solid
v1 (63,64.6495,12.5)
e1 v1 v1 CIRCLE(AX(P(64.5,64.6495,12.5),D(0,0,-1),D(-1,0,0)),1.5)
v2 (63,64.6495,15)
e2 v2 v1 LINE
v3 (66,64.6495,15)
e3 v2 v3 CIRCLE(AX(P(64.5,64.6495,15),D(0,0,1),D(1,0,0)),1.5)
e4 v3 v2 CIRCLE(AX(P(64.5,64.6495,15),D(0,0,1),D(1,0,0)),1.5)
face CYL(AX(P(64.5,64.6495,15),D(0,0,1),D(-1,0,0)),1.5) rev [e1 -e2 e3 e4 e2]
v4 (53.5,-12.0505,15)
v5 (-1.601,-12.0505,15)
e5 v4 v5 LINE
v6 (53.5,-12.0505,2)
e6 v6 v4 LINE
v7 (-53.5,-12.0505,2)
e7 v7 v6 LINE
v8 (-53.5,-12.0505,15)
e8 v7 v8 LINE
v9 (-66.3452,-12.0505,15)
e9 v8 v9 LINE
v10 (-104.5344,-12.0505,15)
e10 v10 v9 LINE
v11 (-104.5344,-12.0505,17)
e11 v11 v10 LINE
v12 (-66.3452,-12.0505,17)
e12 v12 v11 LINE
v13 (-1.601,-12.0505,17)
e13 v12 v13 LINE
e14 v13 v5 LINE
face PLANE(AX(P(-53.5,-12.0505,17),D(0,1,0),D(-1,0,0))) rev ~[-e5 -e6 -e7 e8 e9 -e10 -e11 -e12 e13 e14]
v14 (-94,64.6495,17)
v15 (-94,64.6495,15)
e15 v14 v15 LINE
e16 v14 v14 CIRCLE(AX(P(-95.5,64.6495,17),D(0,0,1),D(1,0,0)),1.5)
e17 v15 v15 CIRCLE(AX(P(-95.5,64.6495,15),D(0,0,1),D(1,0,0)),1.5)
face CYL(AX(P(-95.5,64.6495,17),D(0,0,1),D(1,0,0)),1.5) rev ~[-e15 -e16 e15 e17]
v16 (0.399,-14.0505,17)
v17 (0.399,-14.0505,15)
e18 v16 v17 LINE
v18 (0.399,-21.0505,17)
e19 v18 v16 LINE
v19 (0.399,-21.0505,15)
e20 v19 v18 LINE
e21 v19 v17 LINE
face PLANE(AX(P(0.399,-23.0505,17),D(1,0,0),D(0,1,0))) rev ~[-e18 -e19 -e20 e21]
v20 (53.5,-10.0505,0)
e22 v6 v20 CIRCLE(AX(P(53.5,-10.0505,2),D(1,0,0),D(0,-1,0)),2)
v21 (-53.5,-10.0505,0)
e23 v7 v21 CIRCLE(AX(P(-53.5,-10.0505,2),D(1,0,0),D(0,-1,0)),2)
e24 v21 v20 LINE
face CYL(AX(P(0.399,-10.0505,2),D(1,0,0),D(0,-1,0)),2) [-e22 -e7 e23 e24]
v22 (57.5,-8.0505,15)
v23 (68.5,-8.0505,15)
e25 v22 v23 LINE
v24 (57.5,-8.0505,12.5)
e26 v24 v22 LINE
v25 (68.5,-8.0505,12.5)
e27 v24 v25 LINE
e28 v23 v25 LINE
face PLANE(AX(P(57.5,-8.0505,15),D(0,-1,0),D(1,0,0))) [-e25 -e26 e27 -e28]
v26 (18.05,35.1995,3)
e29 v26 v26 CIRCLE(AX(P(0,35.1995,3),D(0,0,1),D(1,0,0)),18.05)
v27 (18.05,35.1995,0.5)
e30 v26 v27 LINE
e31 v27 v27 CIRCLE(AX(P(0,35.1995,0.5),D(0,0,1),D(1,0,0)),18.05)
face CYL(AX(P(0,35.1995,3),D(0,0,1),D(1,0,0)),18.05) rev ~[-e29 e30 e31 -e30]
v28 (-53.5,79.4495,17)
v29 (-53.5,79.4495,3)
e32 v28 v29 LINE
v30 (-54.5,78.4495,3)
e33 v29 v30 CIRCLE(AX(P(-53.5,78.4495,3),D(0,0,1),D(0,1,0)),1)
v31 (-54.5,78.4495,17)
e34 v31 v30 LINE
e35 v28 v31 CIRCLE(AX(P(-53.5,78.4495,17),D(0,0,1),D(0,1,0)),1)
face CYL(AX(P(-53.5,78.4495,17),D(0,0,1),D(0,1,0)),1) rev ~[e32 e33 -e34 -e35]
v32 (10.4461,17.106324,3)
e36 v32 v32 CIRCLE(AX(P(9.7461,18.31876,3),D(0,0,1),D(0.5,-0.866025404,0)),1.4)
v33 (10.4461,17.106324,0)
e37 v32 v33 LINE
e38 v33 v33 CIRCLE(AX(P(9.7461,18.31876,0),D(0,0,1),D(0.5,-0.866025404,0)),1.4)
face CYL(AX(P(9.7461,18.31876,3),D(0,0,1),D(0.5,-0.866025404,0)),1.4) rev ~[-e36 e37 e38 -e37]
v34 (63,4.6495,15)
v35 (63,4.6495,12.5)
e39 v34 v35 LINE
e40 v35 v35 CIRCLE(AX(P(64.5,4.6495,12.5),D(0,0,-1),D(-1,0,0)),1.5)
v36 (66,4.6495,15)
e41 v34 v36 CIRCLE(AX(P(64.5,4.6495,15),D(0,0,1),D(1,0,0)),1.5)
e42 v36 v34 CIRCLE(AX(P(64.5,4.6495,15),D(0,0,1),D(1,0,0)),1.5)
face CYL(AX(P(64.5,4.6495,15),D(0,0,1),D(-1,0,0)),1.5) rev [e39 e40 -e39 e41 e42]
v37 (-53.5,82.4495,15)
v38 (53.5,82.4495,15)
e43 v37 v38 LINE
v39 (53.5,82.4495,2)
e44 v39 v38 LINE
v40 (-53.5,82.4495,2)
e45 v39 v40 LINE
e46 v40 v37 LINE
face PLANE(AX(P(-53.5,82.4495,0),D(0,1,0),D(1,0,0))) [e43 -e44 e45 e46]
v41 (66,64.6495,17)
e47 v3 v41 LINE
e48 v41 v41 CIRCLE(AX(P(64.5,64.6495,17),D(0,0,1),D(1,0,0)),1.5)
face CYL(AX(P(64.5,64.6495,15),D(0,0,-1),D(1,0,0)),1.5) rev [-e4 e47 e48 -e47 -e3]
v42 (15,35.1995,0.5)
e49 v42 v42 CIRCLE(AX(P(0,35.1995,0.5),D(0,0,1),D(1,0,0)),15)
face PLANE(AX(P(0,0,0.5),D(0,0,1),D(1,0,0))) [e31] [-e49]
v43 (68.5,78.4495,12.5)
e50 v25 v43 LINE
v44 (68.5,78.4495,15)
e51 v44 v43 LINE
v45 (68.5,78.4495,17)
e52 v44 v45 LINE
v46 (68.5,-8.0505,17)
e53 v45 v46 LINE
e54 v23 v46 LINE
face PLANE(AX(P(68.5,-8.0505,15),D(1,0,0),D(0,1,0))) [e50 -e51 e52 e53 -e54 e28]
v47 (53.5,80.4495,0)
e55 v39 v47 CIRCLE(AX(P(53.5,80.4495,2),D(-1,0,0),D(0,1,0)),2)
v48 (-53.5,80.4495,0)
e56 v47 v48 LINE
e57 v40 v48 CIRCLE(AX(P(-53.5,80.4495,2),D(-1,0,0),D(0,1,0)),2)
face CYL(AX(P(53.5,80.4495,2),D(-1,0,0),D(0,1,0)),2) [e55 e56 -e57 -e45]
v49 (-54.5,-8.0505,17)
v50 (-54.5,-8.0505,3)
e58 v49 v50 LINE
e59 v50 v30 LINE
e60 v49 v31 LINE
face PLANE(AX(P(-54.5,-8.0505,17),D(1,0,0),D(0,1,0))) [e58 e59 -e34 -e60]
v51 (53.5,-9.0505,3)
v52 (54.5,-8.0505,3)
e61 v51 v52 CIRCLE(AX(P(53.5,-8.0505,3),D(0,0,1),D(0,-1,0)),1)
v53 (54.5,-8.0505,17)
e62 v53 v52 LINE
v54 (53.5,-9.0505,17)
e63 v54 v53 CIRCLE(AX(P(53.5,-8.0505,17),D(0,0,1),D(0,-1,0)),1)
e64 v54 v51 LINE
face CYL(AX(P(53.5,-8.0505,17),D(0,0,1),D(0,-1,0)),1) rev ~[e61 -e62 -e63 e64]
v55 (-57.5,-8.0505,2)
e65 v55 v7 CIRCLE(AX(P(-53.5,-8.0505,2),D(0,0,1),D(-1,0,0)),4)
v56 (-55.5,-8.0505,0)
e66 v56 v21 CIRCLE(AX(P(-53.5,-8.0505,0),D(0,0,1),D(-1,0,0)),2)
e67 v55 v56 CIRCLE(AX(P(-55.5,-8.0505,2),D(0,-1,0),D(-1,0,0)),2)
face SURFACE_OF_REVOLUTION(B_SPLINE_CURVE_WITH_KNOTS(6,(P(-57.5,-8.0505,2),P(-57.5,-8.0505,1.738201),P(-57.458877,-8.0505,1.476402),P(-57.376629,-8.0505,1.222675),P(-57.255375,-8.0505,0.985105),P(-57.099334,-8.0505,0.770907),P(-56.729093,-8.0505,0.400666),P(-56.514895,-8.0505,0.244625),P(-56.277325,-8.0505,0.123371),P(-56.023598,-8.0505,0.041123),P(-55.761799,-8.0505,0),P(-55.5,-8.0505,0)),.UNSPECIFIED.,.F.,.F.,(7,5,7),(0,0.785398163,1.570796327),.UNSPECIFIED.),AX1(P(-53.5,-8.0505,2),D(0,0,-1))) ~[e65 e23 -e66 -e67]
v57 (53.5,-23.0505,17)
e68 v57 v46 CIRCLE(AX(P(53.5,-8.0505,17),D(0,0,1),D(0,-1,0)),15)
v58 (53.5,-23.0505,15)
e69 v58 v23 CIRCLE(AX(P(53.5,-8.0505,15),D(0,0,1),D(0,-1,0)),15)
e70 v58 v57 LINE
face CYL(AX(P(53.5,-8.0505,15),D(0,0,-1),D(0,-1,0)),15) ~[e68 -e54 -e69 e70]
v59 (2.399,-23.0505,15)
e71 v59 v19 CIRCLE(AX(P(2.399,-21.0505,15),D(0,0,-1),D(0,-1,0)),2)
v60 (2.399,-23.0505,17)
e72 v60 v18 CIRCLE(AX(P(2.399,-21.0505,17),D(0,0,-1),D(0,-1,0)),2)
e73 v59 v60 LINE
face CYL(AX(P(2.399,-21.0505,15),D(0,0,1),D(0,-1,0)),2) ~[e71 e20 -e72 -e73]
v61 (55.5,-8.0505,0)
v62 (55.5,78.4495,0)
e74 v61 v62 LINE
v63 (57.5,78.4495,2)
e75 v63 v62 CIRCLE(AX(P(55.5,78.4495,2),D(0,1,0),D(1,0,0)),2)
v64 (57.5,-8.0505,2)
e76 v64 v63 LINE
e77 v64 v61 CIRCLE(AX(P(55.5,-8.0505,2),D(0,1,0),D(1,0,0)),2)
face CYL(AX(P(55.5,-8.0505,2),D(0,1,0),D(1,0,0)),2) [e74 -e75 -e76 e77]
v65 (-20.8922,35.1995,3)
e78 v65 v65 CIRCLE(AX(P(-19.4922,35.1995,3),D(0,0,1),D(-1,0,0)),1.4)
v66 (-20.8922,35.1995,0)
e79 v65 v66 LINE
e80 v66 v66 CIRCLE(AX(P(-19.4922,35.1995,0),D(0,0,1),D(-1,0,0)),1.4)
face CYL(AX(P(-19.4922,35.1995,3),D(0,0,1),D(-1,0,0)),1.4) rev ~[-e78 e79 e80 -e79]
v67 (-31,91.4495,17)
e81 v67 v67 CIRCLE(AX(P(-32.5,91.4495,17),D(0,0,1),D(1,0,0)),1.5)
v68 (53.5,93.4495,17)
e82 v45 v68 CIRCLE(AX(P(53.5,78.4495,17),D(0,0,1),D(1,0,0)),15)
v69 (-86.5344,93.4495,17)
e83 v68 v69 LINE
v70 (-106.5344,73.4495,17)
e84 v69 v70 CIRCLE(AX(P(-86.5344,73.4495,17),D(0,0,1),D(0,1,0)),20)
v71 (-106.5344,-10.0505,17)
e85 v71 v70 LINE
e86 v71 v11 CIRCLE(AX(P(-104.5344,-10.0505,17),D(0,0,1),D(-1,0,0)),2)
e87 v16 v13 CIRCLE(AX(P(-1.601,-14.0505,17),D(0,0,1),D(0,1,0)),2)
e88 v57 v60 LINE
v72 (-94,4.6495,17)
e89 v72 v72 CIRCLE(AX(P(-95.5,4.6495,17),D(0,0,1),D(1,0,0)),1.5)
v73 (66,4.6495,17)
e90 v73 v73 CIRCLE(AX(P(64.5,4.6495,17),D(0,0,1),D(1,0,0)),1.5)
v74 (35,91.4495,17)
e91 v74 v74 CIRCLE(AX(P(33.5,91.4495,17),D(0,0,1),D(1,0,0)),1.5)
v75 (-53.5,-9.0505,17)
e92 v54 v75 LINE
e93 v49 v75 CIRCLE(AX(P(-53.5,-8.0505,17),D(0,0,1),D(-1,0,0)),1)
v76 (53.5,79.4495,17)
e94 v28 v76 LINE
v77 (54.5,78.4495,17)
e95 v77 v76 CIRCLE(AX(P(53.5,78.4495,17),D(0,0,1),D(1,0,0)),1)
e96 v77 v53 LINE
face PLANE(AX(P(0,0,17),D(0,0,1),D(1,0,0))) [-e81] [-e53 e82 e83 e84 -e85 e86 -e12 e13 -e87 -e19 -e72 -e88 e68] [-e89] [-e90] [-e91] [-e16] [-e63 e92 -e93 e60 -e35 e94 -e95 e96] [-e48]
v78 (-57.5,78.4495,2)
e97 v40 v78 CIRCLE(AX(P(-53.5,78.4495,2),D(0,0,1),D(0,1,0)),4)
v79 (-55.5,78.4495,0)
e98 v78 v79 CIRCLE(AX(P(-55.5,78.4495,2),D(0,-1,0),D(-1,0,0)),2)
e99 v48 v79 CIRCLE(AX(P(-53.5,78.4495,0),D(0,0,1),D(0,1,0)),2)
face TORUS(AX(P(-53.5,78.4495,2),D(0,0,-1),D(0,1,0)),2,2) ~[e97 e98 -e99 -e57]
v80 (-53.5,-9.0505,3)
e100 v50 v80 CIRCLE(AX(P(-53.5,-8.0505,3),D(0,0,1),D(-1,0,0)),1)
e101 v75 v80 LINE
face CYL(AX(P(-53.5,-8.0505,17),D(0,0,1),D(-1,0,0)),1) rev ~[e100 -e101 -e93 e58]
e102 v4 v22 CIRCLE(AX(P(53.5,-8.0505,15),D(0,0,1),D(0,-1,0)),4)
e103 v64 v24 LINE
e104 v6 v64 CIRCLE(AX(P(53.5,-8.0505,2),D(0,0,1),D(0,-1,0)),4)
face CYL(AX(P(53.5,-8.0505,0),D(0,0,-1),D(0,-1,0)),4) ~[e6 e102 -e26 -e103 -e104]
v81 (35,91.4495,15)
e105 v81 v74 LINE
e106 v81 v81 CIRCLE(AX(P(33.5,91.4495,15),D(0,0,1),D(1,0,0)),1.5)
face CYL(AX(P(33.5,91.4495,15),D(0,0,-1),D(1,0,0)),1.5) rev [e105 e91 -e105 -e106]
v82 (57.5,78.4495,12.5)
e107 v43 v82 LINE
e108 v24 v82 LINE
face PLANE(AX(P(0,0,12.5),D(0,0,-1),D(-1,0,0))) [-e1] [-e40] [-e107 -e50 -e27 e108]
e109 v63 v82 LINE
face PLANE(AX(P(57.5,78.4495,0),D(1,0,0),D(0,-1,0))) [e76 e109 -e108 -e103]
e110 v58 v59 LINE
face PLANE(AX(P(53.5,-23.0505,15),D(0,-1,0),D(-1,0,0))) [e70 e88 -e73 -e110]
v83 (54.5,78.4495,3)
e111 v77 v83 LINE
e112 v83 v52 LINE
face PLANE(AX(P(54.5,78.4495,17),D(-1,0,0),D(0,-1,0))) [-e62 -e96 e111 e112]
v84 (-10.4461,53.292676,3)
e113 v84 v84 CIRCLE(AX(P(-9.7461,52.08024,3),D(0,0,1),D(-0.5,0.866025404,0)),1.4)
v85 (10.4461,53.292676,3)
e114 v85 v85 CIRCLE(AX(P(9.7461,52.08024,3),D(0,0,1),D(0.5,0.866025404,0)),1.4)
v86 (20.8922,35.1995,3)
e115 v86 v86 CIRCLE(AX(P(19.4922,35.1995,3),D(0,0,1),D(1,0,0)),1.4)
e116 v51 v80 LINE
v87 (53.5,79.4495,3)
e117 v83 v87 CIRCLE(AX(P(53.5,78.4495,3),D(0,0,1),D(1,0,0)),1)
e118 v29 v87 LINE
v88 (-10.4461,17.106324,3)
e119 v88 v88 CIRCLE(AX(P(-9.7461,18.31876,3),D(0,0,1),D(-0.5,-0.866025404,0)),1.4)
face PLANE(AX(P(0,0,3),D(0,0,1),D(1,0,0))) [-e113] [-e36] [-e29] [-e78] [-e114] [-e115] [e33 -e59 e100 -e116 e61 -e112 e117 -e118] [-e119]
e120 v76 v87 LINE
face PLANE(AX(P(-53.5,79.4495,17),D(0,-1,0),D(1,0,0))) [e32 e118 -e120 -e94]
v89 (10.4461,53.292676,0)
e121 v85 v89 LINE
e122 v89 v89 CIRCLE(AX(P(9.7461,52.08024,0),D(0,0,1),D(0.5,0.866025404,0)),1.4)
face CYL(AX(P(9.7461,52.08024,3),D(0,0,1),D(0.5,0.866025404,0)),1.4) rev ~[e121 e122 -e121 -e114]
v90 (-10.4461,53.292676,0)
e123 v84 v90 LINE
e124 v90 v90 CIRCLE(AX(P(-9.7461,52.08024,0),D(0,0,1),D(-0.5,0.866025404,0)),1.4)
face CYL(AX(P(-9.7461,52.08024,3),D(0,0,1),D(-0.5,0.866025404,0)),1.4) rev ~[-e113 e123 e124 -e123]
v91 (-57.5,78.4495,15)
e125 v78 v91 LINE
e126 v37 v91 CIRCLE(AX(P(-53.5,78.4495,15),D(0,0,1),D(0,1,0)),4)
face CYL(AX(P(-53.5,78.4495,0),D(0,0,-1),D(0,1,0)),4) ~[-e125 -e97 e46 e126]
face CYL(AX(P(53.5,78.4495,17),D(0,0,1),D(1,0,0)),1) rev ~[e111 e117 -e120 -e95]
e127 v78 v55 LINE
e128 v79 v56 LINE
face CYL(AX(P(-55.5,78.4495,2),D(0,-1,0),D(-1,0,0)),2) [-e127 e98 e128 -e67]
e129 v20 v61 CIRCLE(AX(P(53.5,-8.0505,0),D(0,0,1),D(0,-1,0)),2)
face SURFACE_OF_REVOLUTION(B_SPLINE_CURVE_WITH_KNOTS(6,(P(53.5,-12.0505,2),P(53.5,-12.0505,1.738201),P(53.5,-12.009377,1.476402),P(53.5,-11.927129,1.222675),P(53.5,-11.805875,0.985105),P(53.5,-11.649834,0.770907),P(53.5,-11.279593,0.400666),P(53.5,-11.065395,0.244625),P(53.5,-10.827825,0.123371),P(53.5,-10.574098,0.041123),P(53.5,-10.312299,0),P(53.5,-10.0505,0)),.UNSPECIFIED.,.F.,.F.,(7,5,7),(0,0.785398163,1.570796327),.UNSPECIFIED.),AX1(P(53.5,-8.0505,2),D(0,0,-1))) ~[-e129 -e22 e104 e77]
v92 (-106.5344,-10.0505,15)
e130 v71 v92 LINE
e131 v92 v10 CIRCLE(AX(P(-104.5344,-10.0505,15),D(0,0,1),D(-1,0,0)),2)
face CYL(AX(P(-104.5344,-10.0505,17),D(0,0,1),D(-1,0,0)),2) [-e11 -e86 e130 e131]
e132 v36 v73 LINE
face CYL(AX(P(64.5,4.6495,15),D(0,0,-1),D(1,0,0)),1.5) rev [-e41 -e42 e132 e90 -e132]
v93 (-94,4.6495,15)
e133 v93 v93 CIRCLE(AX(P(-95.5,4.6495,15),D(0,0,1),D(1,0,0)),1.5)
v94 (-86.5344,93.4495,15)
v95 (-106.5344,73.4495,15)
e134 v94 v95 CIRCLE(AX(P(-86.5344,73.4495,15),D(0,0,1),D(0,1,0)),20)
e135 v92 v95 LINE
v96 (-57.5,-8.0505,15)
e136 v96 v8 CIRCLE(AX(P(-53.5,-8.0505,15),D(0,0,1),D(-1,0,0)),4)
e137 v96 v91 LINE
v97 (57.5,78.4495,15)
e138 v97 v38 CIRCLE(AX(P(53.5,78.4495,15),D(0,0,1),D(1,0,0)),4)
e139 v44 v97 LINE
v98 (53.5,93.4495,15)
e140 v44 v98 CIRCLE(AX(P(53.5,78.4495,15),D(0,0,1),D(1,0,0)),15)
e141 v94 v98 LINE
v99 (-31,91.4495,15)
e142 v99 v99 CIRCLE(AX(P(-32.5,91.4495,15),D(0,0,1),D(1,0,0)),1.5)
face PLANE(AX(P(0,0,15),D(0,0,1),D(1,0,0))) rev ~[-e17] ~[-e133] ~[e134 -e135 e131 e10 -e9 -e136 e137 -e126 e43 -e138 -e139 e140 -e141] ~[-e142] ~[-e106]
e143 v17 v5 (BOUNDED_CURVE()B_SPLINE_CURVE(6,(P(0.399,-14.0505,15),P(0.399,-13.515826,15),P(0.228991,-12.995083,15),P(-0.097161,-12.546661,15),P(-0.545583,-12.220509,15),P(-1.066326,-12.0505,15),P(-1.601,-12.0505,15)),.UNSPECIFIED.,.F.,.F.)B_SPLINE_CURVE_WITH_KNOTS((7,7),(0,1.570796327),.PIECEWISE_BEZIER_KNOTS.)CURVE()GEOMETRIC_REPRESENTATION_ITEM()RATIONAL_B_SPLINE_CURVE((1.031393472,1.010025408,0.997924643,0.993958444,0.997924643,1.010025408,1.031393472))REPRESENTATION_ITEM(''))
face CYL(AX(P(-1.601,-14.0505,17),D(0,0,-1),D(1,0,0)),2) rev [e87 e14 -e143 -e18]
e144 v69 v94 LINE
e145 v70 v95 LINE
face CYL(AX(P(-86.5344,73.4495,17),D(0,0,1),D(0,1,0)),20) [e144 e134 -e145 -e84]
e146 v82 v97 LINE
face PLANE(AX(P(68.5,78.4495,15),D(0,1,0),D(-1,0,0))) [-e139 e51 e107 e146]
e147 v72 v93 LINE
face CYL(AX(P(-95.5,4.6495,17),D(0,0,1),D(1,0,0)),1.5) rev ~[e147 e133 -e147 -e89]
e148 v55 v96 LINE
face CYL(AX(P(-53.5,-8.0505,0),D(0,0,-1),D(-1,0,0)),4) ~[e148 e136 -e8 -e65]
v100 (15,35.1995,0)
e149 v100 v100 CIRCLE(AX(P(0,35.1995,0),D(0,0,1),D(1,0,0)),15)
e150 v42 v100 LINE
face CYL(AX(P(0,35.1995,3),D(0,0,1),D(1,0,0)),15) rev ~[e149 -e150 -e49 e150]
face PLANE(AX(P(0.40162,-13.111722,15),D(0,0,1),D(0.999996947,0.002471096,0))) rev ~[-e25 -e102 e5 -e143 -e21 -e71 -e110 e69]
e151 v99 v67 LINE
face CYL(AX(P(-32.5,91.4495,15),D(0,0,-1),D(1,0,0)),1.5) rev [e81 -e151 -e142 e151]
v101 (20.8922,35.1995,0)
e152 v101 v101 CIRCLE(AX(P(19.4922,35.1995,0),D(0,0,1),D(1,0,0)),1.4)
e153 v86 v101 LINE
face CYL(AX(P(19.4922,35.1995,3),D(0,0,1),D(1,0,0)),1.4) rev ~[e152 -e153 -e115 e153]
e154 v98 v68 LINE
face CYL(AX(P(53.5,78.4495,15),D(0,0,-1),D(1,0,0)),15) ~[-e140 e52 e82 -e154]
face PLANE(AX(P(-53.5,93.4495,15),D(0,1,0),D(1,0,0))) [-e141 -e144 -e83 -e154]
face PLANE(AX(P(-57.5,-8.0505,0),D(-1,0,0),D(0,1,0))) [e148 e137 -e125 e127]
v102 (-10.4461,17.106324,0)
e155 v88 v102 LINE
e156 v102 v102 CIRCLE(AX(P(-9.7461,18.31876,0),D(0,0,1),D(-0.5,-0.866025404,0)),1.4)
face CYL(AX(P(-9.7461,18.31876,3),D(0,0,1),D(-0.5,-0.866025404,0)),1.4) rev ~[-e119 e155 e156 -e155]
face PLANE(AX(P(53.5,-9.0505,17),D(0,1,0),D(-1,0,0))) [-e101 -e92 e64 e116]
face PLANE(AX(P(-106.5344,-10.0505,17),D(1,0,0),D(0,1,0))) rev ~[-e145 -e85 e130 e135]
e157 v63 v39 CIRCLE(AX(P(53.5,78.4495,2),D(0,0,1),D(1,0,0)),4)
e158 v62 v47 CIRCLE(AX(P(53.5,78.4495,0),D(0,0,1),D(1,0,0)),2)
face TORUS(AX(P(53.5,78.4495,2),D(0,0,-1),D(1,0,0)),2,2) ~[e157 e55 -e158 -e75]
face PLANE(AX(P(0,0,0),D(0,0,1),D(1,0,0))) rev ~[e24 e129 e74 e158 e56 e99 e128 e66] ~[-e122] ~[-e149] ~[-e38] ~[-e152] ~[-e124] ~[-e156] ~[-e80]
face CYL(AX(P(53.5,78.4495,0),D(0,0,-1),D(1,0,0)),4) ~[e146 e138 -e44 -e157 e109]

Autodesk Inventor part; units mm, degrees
ref_plane "YZ Plane" through (0, 0, 0) normal (1, 0, 0) x (0, 1, 0)
ref_plane "XZ Plane" through (0, 0, 0) normal (0, 1, 0) x (-1, 0, 0)
ref_plane "XY Plane" through (0, 0, 0) normal (0, 0, 1) x (1, 0, 0)
sketch "Sketch1" plane through (0, 0, 0) normal (0, 0, 1) x (1, 0, 0)
  line L0 (53.5, -12.0505) -> (-53.5, -12.0505)
  line L1 (-57.5, -8.0505) -> (-57.5, 78.4495)
  line L2 (-53.5, 82.4495) -> (53.5, 82.4495)
  line L3 (57.5, 78.4495) -> (57.5, -8.0505)
  line L4 (57.5, -12.0505) -> (-57.5, 82.4495) construction
  line L5 (-57.5, -12.0505) -> (57.5, 82.4495) construction
  arc A0 (-53.5, 82.4495) -> (-57.5, 78.4495) centre (-53.5, 78.4495) ccw
  arc A1 (57.5, 78.4495) -> (53.5, 82.4495) centre (53.5, 78.4495) ccw
  arc A2 (53.5, -12.0505) -> (57.5, -8.0505) centre (53.5, -8.0505) ccw
  arc A3 (-57.5, -8.0505) -> (-53.5, -12.0505) centre (-53.5, -8.0505) ccw
  point P0 (0, 0)
  point P1 (0, 35.1995)
  dimension "d0" = 115
  dimension "d1" = 94.5
  dimension "d2" = 4
extrude "Extrusion1" add sketch "Sketch1" along normal blind 15
sketch "Sketch2" plane through (0, 0, 15) normal (0, 0, 1) x (1, 0, 0)
  line L0 (53.5, 82.4495) -> (-53.5, 82.4495) projected
  arc A0 (-53.5, 82.4495) -> (-57.5, 78.4495) centre (-53.5, 78.4495) ccw projected
  line L1 (-57.5, 78.4495) -> (-57.5, -8.0505) projected
  arc A1 (-57.5, -8.0505) -> (-53.5, -12.0505) centre (-53.5, -8.0505) ccw projected
  line L2 (-53.5, -12.0505) -> (53.5, -12.0505) projected
  arc A2 (53.5, -12.0505) -> (57.5, -8.0505) centre (53.5, -8.0505) ccw projected
  line L3 (57.5, -8.0505) -> (57.5, 78.4495) projected
  arc A3 (57.5, 78.4495) -> (53.5, 82.4495) centre (53.5, 78.4495) ccw projected
  line L4 (-53.5, 93.4495) -> (53.5, 93.4495)
  arc A4 (68.5, 78.4495) -> (53.5, 93.4495) centre (53.5, 78.4495) ccw
  line L5 (68.5, 78.4495) -> (68.5, -8.0505)
  arc A5 (53.5, -23.0505) -> (68.5, -8.0505) centre (53.5, -8.0505) ccw
  line L6 (53.5, -23.0505) -> (-53.5, -23.0505)
  arc A6 (-68.5, -8.0505) -> (-53.5, -23.0505) centre (-53.5, -8.0505) ccw
  line L7 (-68.5, -8.0505) -> (-68.5, 78.4495)
  arc A7 (-53.5, 93.4495) -> (-68.5, 78.4495) centre (-53.5, 78.4495) ccw
  circle A8 centre (-32.5, 91.4495) radius 1.5
  circle A9 centre (33.5, 91.4495) radius 1.5
  circle A10 centre (64.5, 64.6495) radius 1.5
  circle A11 centre (64.5, 4.6495) radius 1.5
  point P0 (0, 0)
  dimension "d5" = 11
  dimension "d6" = 3
  dimension "d7" = 3
  dimension "d8" = 3
  dimension "d9" = 3
  dimension "d10" = 24
  dimension "d11" = 66
  dimension "d12" = 9
  dimension "d13" = 7
  dimension "d14" = 7
  dimension "d15" = 17.8
  dimension "d16" = 60
extrude "Extrusion2" add sketch "Sketch2" along normal blind 2 contours A3 L3 A2 L2 A1 L1 A0 L0 | L4 A4 L5 A5 L6 A6 L7 A7
sketch "Sketch3" plane through (0, 0, 15) normal (0, 0, -1) x (-1, 0, 0)
  circle A0 centre (-64.5, 4.6495) radius 1.5 projected
  circle A1 centre (-64.5, 64.6495) radius 1.5 projected
  circle A2 centre (-33.5, 91.4495) radius 1.5 projected
  circle A3 centre (32.5, 91.4495) radius 1.5 projected
  line L0 (53.5, -23.0505) -> (-53.5, -23.0505) projected
  arc A4 (53.5, -23.0505) -> (68.5, -8.0505) centre (53.5, -8.0505) ccw projected
  line L1 (68.5, 78.4495) -> (68.5, -8.0505) projected
  arc A5 (68.5, 78.4495) -> (53.5, 93.4495) centre (53.5, 78.4495) ccw projected
  line L2 (-53.5, 93.4495) -> (53.5, 93.4495) projected
  arc A6 (-53.5, 93.4495) -> (-68.5, 78.4495) centre (-53.5, 78.4495) ccw projected
  line L3 (-68.5, -8.0505) -> (-68.5, 78.4495) projected
  arc A7 (-68.5, -8.0505) -> (-53.5, -23.0505) centre (-53.5, -8.0505) ccw projected
  arc A8 (-53.5, 82.4495) -> (-57.5, 78.4495) centre (-53.5, 78.4495) ccw projected
  line L4 (-53.5, 82.4495) -> (53.5, 82.4495) projected
  arc A9 (57.5, 78.4495) -> (53.5, 82.4495) centre (53.5, 78.4495) ccw projected
  line L5 (57.5, 78.4495) -> (57.5, -8.0505) projected
  arc A10 (53.5, -12.0505) -> (57.5, -8.0505) centre (53.5, -8.0505) ccw projected
  line L6 (53.5, -12.0505) -> (-53.5, -12.0505) projected
  arc A11 (-57.5, -8.0505) -> (-53.5, -12.0505) centre (-53.5, -8.0505) ccw projected
  line L7 (-57.5, -8.0505) -> (-57.5, 78.4495) projected
  arc A12 (-53.5, 93.4495) -> (-68.5, 78.4495) centre (-53.5, 78.4495) ccw projected
  line L8 (-57.5, -8.0505) -> (-57.5, 78.4495) projected
  line L9 (-68.5, 78.4495) -> (-57.5, 78.4495)
  line L10 (-57.5, 78.4495) -> (-57.5, -8.0505)
  line L11 (-57.5, -8.0505) -> (-68.5, -8.0505)
  line L12 (-68.5, -8.0505) -> (-68.5, 78.4495)
  point P0 (0, 0)
  point P1 (-68.5, -0.3835)
extrude "Extrusion3" add sketch "Sketch3" along normal blind 2.5 contours L3 L9 L7 L11
sketch "Sketch4" plane through (0, 0, 17) normal (0, 0, 1) x (1, 0, 0)
  line L0 (53.5, 82.4495) -> (-53.5, 82.4495) projected
  arc A0 (57.5, 78.4495) -> (53.5, 82.4495) centre (53.5, 78.4495) ccw projected
  line L1 (57.5, -8.0505) -> (57.5, 78.4495) projected
  arc A1 (53.5, -12.0505) -> (57.5, -8.0505) centre (53.5, -8.0505) ccw projected
  line L2 (-53.5, -12.0505) -> (53.5, -12.0505) projected
  arc A2 (-57.5, -8.0505) -> (-53.5, -12.0505) centre (-53.5, -8.0505) ccw projected
  line L3 (-57.5, 78.4495) -> (-57.5, -8.0505) projected
  arc A3 (-53.5, 82.4495) -> (-57.5, 78.4495) centre (-53.5, 78.4495) ccw projected
  line L4 (-53.5, 79.4495) -> (53.5, 79.4495)
  arc A4 (54.5, 78.4495) -> (53.5, 79.4495) centre (53.5, 78.4495) ccw
  line L5 (54.5, 78.4495) -> (54.5, -8.0505)
  arc A5 (53.5, -9.0505) -> (54.5, -8.0505) centre (53.5, -8.0505) ccw
  line L6 (53.5, -9.0505) -> (-53.5, -9.0505)
  arc A6 (-54.5, -8.0505) -> (-53.5, -9.0505) centre (-53.5, -8.0505) ccw
  line L7 (-54.5, -8.0505) -> (-54.5, 78.4495)
  arc A7 (-53.5, 79.4495) -> (-54.5, 78.4495) centre (-53.5, 78.4495) ccw
  point P0 (0, 0)
  dimension "d21" = 3
extrude "Extrusion4" cut sketch "Sketch4" against normal blind 14 contours L4 A4 L5 A5 L6 A6 L7 A7
sketch "Sketch7" plane through (0, 0, 17) normal (0, 0, 1) x (1, 0, 0)
  arc A0 (53.5, -9.0505) -> (54.5, -8.0505) centre (53.5, -8.0505) ccw projected
  line L0 (53.5, -9.0505) -> (-53.5, -9.0505) projected
  arc A1 (-54.5, -8.0505) -> (-53.5, -9.0505) centre (-53.5, -8.0505) ccw projected
  line L1 (-54.5, -8.0505) -> (-54.5, 78.4495) projected
  arc A2 (-53.5, 79.4495) -> (-54.5, 78.4495) centre (-53.5, 78.4495) ccw projected
  line L2 (-53.5, 79.4495) -> (53.5, 79.4495) projected
  arc A3 (54.5, 78.4495) -> (53.5, 79.4495) centre (53.5, 78.4495) ccw projected
  line L3 (54.5, 78.4495) -> (54.5, -8.0505) projected
  line L4 (-53.5, -23.0505) -> (53.5, -23.0505) projected
  arc A4 (53.5, -23.0505) -> (68.5, -8.0505) centre (53.5, -8.0505) ccw projected
  line L5 (68.5, -8.0505) -> (68.5, 78.4495) projected
  arc A5 (68.5, 78.4495) -> (53.5, 93.4495) centre (53.5, 78.4495) ccw projected
  line L6 (53.5, 93.4495) -> (-53.5, 93.4495) projected
  arc A6 (-53.5, 93.4495) -> (-68.5, 78.4495) centre (-53.5, 78.4495) ccw projected
  line L7 (-68.5, 78.4495) -> (-68.5, -8.0505) projected
  arc A7 (-68.5, -8.0505) -> (-53.5, -23.0505) centre (-53.5, -8.0505) ccw projected
  circle A8 centre (-32.5, 91.4495) radius 1.5 projected
  circle A9 centre (33.5, 91.4495) radius 1.5 projected
  circle A10 centre (64.5, 64.6495) radius 1.5 projected
  circle A11 centre (64.5, 4.6495) radius 1.5 projected
  line L8 (-53.5, -12.0505) -> (53.5, -12.0505) projected
  line L9 (-75.3145, -26.4449) -> (0.399, -26.4449)
  line L10 (0.399, -26.4449) -> (0.399, -12.0505)
  line L11 (0.399, -12.0505) -> (-75.3145, -12.0505)
  line L12 (-75.3145, -12.0505) -> (-75.3145, -26.4449)
  point P0 (0, 0)
extrude "Extrusion7" cut sketch "Sketch7" against normal through all contours A7 L11 L8 L10 L4 | L4 L10 L9 L12 L11 A7
fillet "Fillet1" radius 2 10 edges at (56.3284, -10.8789, 0) (57.5, 35.1995, 0) (56.3284, 81.2779, 0) (0, 82.4495, 0) (-56.3284, 81.2779, 0) (-57.5, 35.1995, 0) (-56.3284, -10.8789, 0) (0, -12.0505, 0) (0.399, -12.0505, 16) (0.399, -23.0505, 16)
sketch "Sketch8" plane through (0, 0, 17) normal (0, 0, 1) x (1, 0, 0)
  circle A0 centre (64.5, 64.6495) radius 1.5 projected
  circle A1 centre (64.5, 4.6495) radius 1.5 projected
  circle A2 centre (-95.5, 64.6495) radius 1.5
  circle A3 centre (-95.5, 4.6495) radius 1.5
  arc A4 (0.399, -21.0505) -> (2.399, -23.0505) centre (2.399, -21.0505) ccw projected
  line L0 (2.399, -23.0505) -> (53.5, -23.0505) projected
  arc A5 (53.5, -23.0505) -> (68.5, -8.0505) centre (53.5, -8.0505) ccw projected
  line L1 (68.5, -8.0505) -> (68.5, 78.4495) projected
  arc A6 (68.5, 78.4495) -> (53.5, 93.4495) centre (53.5, 78.4495) ccw projected
  line L2 (53.5, 93.4495) -> (-53.5, 93.4495) projected
  arc A7 (-53.5, 93.4495) -> (-68.5, 78.4495) centre (-53.5, 78.4495) ccw projected
  line L3 (-68.5, 78.4495) -> (-68.5, -8.0505) projected
  arc A8 (-68.5, -8.0505) -> (-68.3214, -10.3582) centre (-53.5, -8.0505) ccw projected
  arc A9 (-68.3214, -10.3582) -> (-66.3452, -12.0505) centre (-66.3452, -10.0505) ccw projected
  line L4 (-66.3452, -12.0505) -> (-1.601, -12.0505) projected
  arc A10 (0.399, -14.0505) -> (-1.601, -12.0505) centre (-1.601, -14.0505) ccw projected
  line L5 (0.399, -14.0505) -> (0.399, -21.0505) projected
  arc A11 (53.5, -9.0505) -> (54.5, -8.0505) centre (53.5, -8.0505) ccw projected
  line L6 (53.5, -9.0505) -> (-53.5, -9.0505) projected
  arc A12 (-54.5, -8.0505) -> (-53.5, -9.0505) centre (-53.5, -8.0505) ccw projected
  line L7 (-54.5, -8.0505) -> (-54.5, 78.4495) projected
  arc A13 (-53.5, 79.4495) -> (-54.5, 78.4495) centre (-53.5, 78.4495) ccw projected
  line L8 (-53.5, 79.4495) -> (53.5, 79.4495) projected
  arc A14 (54.5, 78.4495) -> (53.5, 79.4495) centre (53.5, 78.4495) ccw projected
  line L9 (54.5, 78.4495) -> (54.5, -8.0505) projected
  circle A15 centre (-32.5, 91.4495) radius 1.5 projected
  circle A16 centre (33.5, 91.4495) radius 1.5 projected
  circle A17 centre (64.5, 64.6495) radius 1.5 projected
  circle A18 centre (64.5, 4.6495) radius 1.5 projected
  line L10 (-106.5344, -10.0505) -> (-106.5344, 73.4495)
  arc A19 (-86.5344, 93.4495) -> (-106.5344, 73.4495) centre (-86.5344, 73.4495) ccw
  line L11 (-53.5, 93.4495) -> (-86.5344, 93.4495)
  line L12 (-53.5, -12.0505) -> (-66.3452, -12.0505) projected
  line L13 (-66.3452, -12.0505) -> (-104.5344, -12.0505)
  arc A20 (-106.5344, -10.0505) -> (-104.5344, -12.0505) centre (-104.5344, -10.0505) ccw
  point P0 (0, 0)
  dimension "d37" = 3
  dimension "d38" = 3
  dimension "d39" = 160
  dimension "d40" = 0
  dimension "d41" = 0
  dimension "d42" = 2
  dimension "d54" = 20
extrude "Extrusion8" add sketch "Sketch8" against normal up to surface (2 mm away) contours L13 A20 L10 A19 L11 A7 L3 A8 A9
sketch "Skizze9" plane through (0, 0, 3) normal (0, 0, 1) x (1, 0, 0)
  line L0 (53.5, -9.0505) -> (-53.5, -9.0505) projected
  arc A0 (53.5, -9.0505) -> (54.5, -8.0505) centre (53.5, -8.0505) ccw projected
  line L1 (54.5, 78.4495) -> (54.5, -8.0505) projected
  arc A1 (54.5, 78.4495) -> (53.5, 79.4495) centre (53.5, 78.4495) ccw projected
  line L2 (-53.5, 79.4495) -> (53.5, 79.4495) projected
  arc A2 (-53.5, 79.4495) -> (-54.5, 78.4495) centre (-53.5, 78.4495) ccw projected
  line L3 (-54.5, -8.0505) -> (-54.5, 78.4495) projected
  arc A3 (-54.5, -8.0505) -> (-53.5, -9.0505) centre (-53.5, -8.0505) ccw projected
  circle A4 centre (0, 35.1995) radius 15
  point P0 (0, 0)
  dimension "d45" = 30
extrude "Extrusion9" cut sketch "Skizze9" against normal blind 13 contours A4
sketch "Skizze10" plane through (0, 0, 3) normal (0, 0, 1) x (1, 0, 0)
  circle A0 centre (19.4922, 35.1995) radius 4 projected
  circle A1 centre (-9.7461, 52.0802) radius 4 projected
  circle A2 centre (-9.7461, 18.3188) radius 4 projected
  circle A3 centre (9.7461, 52.0802) radius 1.45 projected
  circle A4 centre (9.7461, 18.3188) radius 1.45 projected
  circle A5 centre (-19.4922, 35.1995) radius 1.45 projected
  circle A6 centre (0, 35.1995) radius 13.5 projected
  circle A7 centre (0, 35.1995) radius 23.9428 projected
  circle A8 centre (19.4922, 35.1995) radius 1.4
  point P0 (0, 0)
  dimension "d48" = 2.8
extrude "Extrusion10" cut sketch "Skizze10" against normal blind 14 contours A8
pattern_circular "Runde Anordnung1" count 6 over 360 about axis through (0, 35.1995, 3) along (0, 0, -1) of "Extrusion10"
sketch "Skizze11" plane through (0, 0, 3) normal (0, 0, 1) x (1, 0, 0)
  circle A0 centre (9.7461, 52.0802) radius 1.4 projected
  circle A1 centre (-9.7461, 52.0802) radius 1.4 projected
  circle A2 centre (-19.4922, 35.1995) radius 1.4 projected
  circle A3 centre (-9.7461, 18.3188) radius 1.4 projected
  circle A4 centre (9.7461, 18.3188) radius 1.4 projected
  circle A5 centre (19.4922, 35.1995) radius 1.4 projected
  circle A6 centre (0, 35.1995) radius 15 projected
  line L0 (53.5, -9.0505) -> (-53.5, -9.0505) projected
  arc A7 (53.5, -9.0505) -> (54.5, -8.0505) centre (53.5, -8.0505) ccw projected
  line L1 (54.5, 78.4495) -> (54.5, -8.0505) projected
  arc A8 (54.5, 78.4495) -> (53.5, 79.4495) centre (53.5, 78.4495) ccw projected
  line L2 (-53.5, 79.4495) -> (53.5, 79.4495) projected
  arc A9 (-53.5, 79.4495) -> (-54.5, 78.4495) centre (-53.5, 78.4495) ccw projected
  line L3 (-54.5, -8.0505) -> (-54.5, 78.4495) projected
  arc A10 (-54.5, -8.0505) -> (-53.5, -9.0505) centre (-53.5, -8.0505) ccw projected
  circle A11 centre (0, 35.1995) radius 18.05
  point P0 (0, 0)
  dimension "d55" = 36.1
extrude "Extrusion11" cut sketch "Skizze11" against normal blind 2.5 contours A6 | A11
properties part number "30_XYTable_Aliexpress_sampleinsert_round"
